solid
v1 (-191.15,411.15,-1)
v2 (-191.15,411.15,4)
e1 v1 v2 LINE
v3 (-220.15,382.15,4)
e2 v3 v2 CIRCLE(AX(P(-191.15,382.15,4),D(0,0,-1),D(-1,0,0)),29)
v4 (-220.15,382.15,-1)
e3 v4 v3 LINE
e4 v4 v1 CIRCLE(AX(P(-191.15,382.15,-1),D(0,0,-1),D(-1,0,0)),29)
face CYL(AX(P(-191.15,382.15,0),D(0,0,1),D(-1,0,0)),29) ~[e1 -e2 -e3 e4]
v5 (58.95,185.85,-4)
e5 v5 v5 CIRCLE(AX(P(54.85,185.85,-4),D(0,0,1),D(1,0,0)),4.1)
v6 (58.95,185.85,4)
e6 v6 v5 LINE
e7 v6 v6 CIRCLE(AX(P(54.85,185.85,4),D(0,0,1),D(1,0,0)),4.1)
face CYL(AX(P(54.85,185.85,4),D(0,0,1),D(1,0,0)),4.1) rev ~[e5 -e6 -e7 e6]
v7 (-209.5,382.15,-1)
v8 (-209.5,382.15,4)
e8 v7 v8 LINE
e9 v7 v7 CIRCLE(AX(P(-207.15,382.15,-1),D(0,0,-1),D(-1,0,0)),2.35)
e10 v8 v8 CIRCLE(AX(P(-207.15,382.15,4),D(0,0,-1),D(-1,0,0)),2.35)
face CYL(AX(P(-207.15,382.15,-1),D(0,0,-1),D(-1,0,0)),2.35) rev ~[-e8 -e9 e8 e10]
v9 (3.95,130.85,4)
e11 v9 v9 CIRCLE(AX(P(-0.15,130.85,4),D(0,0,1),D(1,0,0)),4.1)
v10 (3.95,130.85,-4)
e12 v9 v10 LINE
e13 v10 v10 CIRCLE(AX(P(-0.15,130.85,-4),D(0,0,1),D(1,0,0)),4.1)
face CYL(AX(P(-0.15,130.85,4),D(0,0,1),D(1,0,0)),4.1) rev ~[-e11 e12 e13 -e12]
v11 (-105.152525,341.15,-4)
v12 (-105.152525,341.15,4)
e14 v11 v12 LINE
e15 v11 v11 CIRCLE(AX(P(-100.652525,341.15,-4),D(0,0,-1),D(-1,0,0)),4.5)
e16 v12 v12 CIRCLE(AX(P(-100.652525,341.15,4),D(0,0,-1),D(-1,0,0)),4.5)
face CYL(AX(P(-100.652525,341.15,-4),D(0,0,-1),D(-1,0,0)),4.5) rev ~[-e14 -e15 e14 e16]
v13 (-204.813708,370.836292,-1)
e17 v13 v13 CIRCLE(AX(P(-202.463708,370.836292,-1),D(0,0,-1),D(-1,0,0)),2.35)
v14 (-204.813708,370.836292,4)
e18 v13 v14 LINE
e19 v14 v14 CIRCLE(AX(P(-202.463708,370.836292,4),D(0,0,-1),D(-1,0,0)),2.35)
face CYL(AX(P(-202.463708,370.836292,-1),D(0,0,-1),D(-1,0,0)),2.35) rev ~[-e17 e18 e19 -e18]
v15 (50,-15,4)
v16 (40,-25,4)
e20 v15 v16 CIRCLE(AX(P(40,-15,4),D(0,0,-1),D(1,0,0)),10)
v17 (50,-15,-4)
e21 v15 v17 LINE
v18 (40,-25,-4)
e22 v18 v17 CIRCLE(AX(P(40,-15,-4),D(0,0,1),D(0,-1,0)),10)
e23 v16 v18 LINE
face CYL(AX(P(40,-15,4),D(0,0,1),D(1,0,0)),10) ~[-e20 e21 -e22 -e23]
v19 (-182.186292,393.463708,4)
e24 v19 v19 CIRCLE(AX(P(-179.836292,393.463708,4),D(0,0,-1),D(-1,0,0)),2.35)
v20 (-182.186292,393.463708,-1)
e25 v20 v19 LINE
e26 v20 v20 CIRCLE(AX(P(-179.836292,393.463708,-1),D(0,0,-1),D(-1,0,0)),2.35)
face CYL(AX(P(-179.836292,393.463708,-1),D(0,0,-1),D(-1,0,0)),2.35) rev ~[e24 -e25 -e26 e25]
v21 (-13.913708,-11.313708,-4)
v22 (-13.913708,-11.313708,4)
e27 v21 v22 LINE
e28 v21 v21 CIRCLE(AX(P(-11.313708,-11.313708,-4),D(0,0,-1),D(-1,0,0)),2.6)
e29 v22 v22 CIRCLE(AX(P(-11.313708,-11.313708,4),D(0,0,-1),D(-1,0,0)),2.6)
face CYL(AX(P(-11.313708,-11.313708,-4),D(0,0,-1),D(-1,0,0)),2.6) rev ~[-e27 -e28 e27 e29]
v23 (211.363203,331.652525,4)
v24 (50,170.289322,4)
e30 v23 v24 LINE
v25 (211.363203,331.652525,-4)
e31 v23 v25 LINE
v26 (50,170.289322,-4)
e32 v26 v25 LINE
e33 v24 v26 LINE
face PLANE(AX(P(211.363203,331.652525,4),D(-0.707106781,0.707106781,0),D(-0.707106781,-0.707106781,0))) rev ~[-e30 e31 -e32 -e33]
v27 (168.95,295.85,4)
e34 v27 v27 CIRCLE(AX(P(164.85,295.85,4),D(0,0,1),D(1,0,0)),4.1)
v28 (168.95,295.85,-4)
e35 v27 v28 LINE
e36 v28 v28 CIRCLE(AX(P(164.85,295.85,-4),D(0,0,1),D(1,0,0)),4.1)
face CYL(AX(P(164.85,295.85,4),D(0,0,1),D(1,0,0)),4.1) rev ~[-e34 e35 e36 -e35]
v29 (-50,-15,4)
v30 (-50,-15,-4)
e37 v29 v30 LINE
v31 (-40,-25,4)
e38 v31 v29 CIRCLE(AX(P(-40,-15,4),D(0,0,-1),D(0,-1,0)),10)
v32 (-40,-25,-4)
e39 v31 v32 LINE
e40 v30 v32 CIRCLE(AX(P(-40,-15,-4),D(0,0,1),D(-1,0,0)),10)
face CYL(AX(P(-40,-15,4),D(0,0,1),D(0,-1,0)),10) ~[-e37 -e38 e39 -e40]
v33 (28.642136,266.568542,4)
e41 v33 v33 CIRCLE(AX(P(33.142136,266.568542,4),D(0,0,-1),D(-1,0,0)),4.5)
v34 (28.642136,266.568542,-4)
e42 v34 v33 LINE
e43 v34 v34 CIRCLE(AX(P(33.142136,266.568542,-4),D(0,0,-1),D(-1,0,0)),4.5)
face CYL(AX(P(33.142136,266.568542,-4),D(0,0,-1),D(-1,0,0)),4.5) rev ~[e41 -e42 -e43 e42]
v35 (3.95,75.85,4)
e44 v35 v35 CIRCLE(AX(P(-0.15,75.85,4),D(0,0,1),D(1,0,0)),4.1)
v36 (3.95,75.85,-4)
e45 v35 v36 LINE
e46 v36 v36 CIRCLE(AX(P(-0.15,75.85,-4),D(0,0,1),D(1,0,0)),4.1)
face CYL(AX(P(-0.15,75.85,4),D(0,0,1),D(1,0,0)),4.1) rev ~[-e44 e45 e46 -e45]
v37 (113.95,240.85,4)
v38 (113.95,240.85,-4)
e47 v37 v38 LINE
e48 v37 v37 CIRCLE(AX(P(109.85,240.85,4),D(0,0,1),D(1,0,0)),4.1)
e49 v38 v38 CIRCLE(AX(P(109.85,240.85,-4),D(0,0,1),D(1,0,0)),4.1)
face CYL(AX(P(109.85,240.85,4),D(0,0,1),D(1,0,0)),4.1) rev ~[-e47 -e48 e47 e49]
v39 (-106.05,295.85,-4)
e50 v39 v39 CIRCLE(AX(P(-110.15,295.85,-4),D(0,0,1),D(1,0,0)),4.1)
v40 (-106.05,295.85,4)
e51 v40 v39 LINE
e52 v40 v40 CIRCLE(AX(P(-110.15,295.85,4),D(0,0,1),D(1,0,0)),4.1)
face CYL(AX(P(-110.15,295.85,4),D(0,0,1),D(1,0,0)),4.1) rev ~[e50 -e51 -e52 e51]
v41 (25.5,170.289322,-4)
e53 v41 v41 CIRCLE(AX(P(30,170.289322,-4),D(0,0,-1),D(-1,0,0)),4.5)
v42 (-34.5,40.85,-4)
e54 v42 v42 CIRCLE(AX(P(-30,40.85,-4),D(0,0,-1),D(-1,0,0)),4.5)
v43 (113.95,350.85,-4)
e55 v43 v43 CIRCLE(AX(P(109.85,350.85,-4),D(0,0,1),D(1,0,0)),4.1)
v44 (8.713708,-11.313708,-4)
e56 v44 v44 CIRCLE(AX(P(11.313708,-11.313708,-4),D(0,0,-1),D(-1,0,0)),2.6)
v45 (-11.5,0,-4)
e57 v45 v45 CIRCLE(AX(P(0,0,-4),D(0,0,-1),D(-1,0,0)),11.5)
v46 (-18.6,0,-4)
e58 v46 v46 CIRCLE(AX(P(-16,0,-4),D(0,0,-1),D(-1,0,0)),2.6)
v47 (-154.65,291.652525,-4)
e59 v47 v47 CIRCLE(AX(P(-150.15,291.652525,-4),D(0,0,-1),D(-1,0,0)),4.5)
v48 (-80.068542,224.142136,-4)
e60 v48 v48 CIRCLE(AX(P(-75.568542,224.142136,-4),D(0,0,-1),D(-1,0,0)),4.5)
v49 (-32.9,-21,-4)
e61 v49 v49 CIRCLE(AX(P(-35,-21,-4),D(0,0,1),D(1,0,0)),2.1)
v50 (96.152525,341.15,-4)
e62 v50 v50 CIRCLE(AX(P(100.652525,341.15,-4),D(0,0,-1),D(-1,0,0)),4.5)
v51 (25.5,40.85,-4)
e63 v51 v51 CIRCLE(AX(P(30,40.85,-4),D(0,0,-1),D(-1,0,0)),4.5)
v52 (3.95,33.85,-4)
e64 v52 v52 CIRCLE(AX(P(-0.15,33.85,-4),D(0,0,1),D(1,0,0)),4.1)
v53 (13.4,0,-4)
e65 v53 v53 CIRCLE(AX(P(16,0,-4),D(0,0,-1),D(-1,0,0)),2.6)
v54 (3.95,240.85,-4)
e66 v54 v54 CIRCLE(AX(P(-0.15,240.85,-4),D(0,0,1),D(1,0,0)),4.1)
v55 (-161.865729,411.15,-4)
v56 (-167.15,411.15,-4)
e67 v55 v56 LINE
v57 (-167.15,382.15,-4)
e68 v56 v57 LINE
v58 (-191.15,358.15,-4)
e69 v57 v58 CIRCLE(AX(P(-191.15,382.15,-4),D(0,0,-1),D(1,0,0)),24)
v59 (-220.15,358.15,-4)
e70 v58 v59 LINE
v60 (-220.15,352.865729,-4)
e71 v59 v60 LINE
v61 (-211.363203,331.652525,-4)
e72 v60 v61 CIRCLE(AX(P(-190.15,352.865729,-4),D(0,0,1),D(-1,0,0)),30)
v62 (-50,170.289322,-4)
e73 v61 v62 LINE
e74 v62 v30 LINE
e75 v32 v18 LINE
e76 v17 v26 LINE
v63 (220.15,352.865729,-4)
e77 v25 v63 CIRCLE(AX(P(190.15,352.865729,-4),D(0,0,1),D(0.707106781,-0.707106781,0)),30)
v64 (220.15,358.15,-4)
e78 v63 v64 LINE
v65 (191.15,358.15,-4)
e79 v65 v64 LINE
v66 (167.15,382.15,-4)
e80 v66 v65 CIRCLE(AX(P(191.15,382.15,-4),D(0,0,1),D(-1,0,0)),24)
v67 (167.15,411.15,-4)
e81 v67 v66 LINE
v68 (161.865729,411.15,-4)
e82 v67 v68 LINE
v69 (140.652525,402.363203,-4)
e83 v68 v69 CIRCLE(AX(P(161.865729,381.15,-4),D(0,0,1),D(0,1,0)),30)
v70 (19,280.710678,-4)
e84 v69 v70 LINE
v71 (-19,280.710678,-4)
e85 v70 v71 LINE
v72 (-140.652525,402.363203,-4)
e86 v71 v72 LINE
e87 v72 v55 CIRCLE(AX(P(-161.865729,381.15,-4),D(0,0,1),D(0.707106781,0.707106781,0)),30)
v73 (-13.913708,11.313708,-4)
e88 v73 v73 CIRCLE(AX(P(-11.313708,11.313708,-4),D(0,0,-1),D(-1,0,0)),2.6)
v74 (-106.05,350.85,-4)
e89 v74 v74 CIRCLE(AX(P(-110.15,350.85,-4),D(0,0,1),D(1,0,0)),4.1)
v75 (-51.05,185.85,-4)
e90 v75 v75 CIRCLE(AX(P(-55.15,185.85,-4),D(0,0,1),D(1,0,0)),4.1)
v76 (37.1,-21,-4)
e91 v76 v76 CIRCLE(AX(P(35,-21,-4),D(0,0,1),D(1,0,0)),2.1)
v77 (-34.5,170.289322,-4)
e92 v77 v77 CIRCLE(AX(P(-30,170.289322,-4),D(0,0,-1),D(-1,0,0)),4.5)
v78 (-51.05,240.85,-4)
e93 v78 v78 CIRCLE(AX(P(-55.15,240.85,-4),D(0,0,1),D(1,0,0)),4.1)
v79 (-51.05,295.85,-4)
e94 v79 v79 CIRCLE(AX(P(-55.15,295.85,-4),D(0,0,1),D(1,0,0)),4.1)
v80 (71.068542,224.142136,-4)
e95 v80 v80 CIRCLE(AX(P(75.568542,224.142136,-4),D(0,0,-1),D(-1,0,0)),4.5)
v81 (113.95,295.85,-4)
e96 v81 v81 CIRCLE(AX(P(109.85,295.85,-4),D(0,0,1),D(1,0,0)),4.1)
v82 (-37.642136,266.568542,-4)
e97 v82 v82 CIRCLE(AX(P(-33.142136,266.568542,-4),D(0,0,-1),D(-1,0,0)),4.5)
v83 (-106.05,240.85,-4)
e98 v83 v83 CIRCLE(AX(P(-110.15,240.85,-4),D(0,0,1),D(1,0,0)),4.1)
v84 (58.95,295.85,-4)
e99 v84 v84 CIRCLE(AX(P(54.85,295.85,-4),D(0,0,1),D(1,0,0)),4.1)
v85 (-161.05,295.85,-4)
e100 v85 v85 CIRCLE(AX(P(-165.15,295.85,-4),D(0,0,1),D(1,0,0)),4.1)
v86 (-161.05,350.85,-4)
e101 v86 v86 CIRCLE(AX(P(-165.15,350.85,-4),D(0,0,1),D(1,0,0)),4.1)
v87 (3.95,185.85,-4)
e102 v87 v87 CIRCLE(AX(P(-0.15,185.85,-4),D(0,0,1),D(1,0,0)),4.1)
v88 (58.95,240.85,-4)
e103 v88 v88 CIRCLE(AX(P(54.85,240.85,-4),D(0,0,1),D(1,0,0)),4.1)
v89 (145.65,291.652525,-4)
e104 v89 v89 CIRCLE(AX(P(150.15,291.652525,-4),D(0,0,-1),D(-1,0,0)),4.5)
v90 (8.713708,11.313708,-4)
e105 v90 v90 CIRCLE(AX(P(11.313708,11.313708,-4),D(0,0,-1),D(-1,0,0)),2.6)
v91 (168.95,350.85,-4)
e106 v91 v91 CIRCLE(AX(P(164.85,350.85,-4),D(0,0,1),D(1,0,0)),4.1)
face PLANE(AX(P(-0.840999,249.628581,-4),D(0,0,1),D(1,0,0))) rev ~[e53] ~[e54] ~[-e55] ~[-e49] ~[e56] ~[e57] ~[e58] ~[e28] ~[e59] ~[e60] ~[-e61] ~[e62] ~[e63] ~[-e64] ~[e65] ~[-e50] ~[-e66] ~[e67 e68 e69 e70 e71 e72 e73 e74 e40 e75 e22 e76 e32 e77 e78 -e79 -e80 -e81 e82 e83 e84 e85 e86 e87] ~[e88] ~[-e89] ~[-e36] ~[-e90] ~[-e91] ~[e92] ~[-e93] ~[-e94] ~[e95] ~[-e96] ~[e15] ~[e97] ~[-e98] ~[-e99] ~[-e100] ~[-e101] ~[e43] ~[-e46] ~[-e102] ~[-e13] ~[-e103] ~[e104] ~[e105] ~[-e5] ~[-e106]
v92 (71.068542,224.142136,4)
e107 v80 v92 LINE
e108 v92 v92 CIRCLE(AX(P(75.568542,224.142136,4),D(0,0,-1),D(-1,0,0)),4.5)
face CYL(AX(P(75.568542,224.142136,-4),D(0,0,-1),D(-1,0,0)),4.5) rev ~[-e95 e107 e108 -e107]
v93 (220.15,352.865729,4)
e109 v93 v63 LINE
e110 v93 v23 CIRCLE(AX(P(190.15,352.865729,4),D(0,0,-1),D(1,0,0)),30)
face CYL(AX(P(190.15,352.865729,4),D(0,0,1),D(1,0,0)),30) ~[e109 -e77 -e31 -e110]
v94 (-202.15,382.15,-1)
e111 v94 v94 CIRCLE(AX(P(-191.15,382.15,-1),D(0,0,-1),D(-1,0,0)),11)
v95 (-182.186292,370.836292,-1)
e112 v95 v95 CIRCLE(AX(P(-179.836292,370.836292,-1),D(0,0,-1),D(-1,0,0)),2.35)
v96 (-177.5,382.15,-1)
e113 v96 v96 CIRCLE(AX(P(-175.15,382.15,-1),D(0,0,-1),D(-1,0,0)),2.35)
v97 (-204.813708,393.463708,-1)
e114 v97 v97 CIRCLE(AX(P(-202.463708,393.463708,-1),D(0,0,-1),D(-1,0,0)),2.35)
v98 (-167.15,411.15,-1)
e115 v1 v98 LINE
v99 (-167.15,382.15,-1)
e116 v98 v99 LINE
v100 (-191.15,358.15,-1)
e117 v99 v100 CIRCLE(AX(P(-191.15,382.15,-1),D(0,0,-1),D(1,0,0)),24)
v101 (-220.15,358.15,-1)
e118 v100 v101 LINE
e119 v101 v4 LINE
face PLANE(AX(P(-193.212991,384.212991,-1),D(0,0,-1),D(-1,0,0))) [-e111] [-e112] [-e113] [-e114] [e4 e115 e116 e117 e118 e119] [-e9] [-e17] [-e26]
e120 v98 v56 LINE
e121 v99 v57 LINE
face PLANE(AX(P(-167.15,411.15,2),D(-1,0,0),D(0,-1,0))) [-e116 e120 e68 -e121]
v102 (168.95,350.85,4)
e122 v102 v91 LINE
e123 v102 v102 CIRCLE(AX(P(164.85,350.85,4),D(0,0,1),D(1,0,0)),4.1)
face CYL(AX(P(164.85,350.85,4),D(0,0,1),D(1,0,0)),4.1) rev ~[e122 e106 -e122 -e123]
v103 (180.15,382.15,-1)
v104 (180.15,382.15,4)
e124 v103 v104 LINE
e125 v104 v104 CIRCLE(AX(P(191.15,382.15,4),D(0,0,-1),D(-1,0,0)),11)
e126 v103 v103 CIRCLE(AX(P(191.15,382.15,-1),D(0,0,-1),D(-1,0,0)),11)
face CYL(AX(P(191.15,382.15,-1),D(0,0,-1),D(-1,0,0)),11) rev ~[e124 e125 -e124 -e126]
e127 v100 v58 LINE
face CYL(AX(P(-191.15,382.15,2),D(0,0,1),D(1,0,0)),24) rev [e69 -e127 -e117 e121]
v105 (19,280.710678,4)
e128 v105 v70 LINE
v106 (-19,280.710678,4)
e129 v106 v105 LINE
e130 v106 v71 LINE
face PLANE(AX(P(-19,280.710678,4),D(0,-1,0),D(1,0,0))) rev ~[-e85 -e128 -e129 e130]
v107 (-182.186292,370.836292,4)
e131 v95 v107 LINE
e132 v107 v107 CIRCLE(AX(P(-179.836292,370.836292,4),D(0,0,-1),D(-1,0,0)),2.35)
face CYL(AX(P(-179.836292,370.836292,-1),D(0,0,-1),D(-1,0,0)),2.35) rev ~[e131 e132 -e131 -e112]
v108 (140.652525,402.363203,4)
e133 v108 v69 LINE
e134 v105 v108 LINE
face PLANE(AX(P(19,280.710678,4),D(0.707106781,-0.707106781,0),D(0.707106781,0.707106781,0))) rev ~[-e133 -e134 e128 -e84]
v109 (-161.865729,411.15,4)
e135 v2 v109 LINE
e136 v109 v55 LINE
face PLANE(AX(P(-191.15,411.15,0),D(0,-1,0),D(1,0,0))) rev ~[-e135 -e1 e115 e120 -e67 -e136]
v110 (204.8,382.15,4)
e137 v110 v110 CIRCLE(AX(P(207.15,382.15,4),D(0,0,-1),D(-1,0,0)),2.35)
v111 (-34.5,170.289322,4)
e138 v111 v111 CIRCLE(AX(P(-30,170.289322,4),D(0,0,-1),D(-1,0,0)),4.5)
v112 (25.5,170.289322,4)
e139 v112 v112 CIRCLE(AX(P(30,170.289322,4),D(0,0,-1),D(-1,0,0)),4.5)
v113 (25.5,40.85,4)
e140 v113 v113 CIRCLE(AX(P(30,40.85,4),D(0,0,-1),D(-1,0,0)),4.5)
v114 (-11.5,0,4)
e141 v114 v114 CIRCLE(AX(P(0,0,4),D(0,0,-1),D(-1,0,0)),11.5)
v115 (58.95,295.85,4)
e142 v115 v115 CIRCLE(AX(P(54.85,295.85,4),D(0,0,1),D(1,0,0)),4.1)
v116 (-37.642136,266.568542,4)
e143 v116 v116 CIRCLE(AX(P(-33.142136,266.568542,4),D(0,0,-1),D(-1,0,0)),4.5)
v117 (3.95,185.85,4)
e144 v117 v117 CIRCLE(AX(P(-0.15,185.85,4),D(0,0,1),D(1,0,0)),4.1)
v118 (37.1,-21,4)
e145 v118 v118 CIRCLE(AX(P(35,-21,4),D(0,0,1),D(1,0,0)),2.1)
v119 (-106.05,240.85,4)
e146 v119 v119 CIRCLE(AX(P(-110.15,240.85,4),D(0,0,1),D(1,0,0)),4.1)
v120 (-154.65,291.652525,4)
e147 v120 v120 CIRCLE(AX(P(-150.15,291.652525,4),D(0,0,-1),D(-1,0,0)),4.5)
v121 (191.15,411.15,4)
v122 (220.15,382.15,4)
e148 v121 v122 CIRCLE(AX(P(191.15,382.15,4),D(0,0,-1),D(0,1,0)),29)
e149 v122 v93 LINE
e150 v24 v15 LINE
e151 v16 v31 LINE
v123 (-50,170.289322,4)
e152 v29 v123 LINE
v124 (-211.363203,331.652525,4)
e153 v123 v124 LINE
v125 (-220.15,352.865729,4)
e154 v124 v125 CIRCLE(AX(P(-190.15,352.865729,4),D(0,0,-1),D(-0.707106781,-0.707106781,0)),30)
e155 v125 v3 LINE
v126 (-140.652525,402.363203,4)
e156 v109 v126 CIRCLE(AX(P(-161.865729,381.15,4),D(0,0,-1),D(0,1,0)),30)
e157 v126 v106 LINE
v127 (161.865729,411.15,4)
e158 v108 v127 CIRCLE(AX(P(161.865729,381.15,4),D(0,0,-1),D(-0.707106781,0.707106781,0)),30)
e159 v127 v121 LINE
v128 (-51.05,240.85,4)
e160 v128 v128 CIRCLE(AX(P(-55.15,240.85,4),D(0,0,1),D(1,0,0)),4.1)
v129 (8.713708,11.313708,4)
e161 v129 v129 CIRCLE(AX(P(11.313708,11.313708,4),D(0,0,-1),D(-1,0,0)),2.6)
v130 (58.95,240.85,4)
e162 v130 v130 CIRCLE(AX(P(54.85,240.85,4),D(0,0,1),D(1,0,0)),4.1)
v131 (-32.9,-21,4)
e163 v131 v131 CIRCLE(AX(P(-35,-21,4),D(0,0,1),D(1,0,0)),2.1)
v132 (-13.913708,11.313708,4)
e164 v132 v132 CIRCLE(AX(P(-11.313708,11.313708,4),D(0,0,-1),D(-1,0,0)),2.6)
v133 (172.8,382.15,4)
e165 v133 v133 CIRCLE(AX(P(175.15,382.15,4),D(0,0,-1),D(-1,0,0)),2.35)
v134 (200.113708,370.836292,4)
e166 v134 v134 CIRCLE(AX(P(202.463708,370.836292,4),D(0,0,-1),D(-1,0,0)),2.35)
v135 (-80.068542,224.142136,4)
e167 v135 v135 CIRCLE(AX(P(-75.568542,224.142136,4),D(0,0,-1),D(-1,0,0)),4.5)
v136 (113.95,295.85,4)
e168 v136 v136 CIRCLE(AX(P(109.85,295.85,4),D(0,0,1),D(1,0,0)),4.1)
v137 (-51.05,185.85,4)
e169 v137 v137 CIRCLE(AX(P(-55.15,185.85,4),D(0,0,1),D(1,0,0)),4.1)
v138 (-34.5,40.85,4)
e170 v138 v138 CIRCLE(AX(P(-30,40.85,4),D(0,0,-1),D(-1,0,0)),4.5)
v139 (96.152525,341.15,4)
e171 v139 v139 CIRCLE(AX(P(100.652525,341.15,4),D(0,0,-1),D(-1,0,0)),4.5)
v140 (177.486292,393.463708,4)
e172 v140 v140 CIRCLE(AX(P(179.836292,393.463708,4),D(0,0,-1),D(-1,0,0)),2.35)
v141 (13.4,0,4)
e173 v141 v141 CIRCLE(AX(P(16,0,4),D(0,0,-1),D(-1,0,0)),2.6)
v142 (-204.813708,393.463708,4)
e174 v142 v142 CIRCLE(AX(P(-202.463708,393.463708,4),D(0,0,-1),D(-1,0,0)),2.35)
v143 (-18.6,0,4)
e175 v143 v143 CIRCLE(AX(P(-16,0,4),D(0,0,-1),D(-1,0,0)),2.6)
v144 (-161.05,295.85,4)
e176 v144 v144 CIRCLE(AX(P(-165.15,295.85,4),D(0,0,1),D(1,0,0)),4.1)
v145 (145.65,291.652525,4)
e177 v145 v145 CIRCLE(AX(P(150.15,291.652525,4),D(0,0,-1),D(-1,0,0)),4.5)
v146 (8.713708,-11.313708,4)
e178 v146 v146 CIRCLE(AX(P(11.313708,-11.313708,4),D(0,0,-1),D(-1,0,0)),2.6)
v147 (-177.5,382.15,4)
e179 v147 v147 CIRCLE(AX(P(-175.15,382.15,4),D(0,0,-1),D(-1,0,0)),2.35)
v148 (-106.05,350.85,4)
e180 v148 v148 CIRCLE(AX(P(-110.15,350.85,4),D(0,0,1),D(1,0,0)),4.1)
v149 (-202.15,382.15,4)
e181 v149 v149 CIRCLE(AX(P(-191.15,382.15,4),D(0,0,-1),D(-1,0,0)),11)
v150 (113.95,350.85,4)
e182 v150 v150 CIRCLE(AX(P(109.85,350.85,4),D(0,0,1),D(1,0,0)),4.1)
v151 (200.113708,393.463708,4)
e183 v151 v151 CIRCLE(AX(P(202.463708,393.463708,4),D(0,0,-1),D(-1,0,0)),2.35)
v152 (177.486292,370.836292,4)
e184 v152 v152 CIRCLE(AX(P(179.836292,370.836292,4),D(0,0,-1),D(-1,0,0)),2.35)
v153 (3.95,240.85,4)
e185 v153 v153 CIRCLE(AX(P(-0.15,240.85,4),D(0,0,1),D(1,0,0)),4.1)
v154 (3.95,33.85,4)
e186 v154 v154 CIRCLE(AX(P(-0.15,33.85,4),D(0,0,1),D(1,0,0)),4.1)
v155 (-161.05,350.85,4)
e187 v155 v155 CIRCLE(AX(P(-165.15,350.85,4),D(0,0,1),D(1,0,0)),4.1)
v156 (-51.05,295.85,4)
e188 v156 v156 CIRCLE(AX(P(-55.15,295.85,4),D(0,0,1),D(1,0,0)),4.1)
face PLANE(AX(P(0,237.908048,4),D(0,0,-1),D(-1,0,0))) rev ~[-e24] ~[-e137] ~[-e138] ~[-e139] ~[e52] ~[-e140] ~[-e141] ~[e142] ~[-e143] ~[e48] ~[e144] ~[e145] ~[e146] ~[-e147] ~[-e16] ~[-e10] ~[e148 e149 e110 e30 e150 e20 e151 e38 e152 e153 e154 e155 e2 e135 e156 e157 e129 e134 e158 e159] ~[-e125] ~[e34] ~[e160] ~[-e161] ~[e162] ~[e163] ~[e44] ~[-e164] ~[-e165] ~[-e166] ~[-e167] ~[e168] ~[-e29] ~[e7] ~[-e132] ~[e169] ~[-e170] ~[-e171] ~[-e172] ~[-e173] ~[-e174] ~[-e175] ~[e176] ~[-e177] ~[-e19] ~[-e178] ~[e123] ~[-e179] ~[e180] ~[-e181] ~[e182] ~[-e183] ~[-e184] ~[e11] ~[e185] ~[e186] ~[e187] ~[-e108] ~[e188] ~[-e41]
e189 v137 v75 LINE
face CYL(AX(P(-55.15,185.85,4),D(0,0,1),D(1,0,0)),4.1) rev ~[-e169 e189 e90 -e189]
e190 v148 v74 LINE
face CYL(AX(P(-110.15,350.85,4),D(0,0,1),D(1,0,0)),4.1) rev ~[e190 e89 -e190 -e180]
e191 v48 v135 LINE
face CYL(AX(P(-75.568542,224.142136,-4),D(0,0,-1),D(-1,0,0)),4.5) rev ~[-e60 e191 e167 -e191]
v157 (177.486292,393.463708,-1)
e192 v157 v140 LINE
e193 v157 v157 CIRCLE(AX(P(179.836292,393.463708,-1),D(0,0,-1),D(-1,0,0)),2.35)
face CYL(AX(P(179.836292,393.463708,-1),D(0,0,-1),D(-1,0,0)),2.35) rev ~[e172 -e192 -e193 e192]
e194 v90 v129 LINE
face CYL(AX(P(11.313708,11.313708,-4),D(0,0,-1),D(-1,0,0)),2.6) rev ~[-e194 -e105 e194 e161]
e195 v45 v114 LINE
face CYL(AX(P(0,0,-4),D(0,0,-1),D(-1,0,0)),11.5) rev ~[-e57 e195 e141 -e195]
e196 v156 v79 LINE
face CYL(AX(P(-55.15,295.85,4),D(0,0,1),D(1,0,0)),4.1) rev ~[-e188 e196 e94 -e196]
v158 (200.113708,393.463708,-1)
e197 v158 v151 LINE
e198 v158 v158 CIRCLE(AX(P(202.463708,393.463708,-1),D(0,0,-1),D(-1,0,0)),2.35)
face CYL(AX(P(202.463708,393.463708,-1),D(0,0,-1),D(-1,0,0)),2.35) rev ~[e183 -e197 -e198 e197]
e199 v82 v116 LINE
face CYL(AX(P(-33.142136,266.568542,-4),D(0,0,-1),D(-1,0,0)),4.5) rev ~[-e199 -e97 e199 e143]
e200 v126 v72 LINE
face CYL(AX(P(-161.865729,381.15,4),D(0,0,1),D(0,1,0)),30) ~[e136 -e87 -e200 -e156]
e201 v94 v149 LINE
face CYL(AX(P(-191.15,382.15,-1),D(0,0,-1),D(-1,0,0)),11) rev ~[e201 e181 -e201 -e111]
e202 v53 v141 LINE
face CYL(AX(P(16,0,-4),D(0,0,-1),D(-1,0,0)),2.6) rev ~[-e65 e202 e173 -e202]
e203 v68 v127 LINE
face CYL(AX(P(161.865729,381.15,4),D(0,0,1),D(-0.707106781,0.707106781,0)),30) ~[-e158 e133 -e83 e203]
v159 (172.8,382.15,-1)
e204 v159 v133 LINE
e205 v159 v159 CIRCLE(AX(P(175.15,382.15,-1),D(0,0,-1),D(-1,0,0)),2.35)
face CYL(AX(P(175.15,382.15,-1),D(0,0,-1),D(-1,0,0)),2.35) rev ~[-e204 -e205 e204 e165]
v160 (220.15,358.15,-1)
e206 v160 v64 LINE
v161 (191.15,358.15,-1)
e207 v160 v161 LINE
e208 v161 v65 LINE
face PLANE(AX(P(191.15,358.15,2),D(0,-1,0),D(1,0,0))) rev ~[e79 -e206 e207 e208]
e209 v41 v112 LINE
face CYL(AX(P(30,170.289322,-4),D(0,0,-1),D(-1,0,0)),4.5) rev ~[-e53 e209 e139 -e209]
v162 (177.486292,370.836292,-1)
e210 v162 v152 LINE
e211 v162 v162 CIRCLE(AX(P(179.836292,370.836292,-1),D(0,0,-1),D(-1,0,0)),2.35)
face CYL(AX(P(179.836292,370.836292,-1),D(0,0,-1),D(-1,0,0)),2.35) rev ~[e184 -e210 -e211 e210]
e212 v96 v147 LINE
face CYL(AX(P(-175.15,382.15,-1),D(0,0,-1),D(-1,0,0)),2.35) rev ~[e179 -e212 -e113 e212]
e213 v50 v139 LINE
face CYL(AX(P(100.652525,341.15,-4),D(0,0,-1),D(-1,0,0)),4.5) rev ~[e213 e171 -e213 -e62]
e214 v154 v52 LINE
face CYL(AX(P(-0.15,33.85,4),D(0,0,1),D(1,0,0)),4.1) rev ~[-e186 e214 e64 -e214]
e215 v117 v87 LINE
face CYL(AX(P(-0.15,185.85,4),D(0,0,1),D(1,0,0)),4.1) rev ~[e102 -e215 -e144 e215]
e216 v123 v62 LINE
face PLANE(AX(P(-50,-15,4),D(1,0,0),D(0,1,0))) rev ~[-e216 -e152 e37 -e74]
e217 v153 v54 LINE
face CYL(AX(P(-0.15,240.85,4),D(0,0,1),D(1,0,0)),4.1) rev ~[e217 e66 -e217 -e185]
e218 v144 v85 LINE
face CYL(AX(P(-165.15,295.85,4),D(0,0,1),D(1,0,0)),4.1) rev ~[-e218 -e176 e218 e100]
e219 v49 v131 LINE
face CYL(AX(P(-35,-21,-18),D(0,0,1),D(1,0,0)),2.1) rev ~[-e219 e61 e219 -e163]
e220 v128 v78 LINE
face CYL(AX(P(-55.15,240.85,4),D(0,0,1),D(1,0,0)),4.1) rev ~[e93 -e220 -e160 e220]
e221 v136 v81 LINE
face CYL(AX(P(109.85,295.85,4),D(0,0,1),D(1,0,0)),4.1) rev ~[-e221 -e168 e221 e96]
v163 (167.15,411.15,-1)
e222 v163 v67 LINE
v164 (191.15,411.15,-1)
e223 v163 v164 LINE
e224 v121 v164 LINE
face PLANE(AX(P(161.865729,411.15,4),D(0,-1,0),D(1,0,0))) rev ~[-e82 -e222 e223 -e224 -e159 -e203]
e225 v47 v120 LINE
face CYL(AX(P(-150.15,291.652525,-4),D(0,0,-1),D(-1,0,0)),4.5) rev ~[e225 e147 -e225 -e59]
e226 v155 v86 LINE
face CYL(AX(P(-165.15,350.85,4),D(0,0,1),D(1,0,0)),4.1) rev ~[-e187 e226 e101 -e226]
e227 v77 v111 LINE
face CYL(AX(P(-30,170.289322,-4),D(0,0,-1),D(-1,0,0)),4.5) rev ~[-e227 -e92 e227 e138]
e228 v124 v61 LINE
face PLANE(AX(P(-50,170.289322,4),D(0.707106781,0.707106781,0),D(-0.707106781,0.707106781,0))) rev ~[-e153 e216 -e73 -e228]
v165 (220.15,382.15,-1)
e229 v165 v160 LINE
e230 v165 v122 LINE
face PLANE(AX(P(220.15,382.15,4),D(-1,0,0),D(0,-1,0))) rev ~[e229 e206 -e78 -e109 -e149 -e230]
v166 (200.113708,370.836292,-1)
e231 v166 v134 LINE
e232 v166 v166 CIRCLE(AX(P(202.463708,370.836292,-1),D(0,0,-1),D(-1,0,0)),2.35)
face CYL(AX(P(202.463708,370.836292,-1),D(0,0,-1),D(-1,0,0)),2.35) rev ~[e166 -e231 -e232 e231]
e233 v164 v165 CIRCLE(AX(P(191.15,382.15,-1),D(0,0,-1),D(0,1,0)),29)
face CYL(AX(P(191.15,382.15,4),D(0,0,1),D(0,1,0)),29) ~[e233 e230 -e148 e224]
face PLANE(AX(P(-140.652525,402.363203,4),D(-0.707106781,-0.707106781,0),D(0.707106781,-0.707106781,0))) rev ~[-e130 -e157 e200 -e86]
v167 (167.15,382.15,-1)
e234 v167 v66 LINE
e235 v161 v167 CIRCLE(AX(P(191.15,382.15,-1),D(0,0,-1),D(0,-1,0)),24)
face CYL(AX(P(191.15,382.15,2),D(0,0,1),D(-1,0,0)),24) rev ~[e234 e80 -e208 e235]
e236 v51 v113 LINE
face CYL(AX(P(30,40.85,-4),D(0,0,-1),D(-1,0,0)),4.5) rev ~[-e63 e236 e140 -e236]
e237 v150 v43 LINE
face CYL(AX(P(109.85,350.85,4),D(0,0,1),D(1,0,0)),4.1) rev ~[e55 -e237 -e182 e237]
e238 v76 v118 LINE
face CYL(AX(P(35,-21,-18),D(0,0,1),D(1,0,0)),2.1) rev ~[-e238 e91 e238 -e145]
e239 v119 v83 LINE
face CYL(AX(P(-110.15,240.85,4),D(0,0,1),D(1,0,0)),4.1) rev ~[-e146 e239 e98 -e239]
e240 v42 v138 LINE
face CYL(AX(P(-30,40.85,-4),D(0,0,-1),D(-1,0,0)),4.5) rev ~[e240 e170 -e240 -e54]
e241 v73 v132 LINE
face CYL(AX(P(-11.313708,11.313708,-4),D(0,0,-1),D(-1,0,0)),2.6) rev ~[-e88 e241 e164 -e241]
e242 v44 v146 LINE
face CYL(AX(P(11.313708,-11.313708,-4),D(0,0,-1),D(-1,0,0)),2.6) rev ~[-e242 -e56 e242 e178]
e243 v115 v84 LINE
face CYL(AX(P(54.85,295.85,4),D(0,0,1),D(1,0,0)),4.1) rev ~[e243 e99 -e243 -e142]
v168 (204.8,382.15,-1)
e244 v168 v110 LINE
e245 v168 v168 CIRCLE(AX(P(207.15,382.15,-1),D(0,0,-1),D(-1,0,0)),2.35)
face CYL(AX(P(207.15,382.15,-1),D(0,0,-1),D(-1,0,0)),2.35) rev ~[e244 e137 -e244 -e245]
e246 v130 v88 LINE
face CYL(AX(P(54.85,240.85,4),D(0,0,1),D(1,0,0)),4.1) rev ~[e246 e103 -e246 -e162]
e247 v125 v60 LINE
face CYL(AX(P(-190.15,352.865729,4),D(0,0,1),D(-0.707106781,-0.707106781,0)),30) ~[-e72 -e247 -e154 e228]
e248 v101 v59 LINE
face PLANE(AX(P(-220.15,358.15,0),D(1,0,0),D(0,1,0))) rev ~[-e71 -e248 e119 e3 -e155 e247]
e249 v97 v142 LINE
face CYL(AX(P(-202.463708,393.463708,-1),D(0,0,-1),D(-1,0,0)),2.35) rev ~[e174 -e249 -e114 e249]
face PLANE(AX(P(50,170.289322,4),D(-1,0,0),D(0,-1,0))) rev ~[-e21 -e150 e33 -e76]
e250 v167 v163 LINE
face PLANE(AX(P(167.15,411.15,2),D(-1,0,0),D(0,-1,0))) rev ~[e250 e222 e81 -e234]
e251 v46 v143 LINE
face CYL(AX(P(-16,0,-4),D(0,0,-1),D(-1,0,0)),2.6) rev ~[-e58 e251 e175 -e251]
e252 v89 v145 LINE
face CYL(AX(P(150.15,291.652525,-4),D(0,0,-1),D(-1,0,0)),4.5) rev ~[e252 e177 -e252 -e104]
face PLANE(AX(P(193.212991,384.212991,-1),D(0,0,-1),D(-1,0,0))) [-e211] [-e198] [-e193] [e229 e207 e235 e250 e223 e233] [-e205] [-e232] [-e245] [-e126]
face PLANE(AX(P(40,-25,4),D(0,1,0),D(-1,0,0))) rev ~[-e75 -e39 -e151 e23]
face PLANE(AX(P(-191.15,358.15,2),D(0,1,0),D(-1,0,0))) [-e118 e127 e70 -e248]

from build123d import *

# Parameters (mm, degrees)
ESQUISSE1_R               = 29
BOSS_EXTRU_1_DEPTH        = 4
ENL_V_START               = -6
ENL_V_MAT_EXTRU_1_DEPTH   = 6
BOSS_EXTRU_3_START        = 4
BOSS_EXTRU_3_DEPTH        = 4
ESQUISSE8_R               = 11
ENL_V_MAT_EXTRU_2_DEPTH   = 12
ESQUISSE10_R              = 2.5
ENL_V_MAT_EXTRU_4_DEPTH   = 12
ESQUISSE11_R              = 4.5
ENL_V_MAT_EXTRU_5_DEPTH   = 14
TROU_TARAUD_M5X0_81_D     = 4.2
TROU_TARAUD_M5X0_81_DEPTH = 14
TROU_TARAUD_M5X0_81_TIP   = 1.2618073
ESQUISSE14_R              = 2.5
ESQUISSE14_R_2            = 11
BOSS_EXTRU_4_DEPTH        = 4
BOSS_EXTRU_5_DEPTH        = 1
ESQUISSE17_R              = 2.6
ESQUISSE17_R_2            = 2.5
ESQUISSE17_R_3            = 11.5
ESQUISSE17_R_4            = 11
ENL_V_MAT_EXTRU_7_DEPTH   = 10
ESQUISSE18_R              = 11
ESQUISSE18_R_2            = 2.35
ENL_V_MAT_EXTRU_8_DEPTH   = 10
ESQUISSE19_R              = 4.1
ENL_V_MAT_EXTRU_9_DEPTH   = 8


with BuildPart() as part:
    # Esquisse1 → Boss.-Extru.1 (new body)
    with BuildSketch(Plane.XY):
        with BuildLine():
            Line((-40, -25), (40, -25))
            ThreePointArc((40, -25), (47.071067812, -22.071067812), (50, -15))
            Line((50, -15), (50, 170.289321881))
            Line((50, 170.289321881), (211.363203436, 331.652525317))
            ThreePointArc((211.363203436, 331.652525317), (217.866385975, 341.385225782), (220.15, 352.865728753))
            Line((220.15, 352.865728753), (220.15, 382.15))
            ThreePointArc((220.15, 382.15), (170.643903346, 361.643903346), (191.15, 411.15))
            Line((191.15, 411.15), (161.865728753, 411.15))
            ThreePointArc((161.865728753, 411.15), (150.385225782, 408.866385975), (140.652525317, 402.363203436))
            Line((140.652525317, 402.363203436), (19, 280.710678119))
            Line((19, 280.710678119), (-19, 280.710678119))
            Line((-19, 280.710678119), (-140.652525317, 402.363203436))
            ThreePointArc((-140.652525317, 402.363203436), (-150.385225782, 408.866385975), (-161.865728753, 411.15))
            Line((-161.865728753, 411.15), (-191.15, 411.15))
            ThreePointArc((-191.15, 411.15), (-170.643903346, 402.656096654), (-162.15, 382.15))
            ThreePointArc((-162.15, 382.15), (-191.15, 353.15), (-220.15, 382.15))
            Line((-220.15, 382.15), (-220.15, 352.865728753))
            ThreePointArc((-220.15, 352.865728753), (-217.866385975, 341.385225782), (-211.363203436, 331.652525317))
            Line((-211.363203436, 331.652525317), (-50, 170.289321881))
            Line((-50, 170.289321881), (-50, -15))
            ThreePointArc((-50, -15), (-47.071067812, -22.071067812), (-40, -25))
        make_face()
        with Locations((191.15, 382.15)):
            Circle(ESQUISSE1_R)
        with Locations((-191.15, 382.15)):
            Circle(ESQUISSE1_R)
    extrude(amount=-BOSS_EXTRU_1_DEPTH)

    # Esquisse4 → Enlèv. mat.-Extru.1 (cut)
    with BuildSketch(Plane(origin=(0, 0, -4), x_dir=(-1, 0, 0), z_dir=(0, 0, -1)).offset(ENL_V_START)):
        with BuildLine():
            Line((-14.875216904, -15), (14.875216904, -15))
            ThreePointArc((14.875216904, -15), (14.990842441, -14.97682257), (15.088601959, -14.910871568))
            ThreePointArc((15.088601959, -14.910871568), (21.213203436, 0), (15.088601959, 14.910871568))
            ThreePointArc((15.088601959, 14.910871568), (14.990842441, 14.97682257), (14.875216904, 15))
            Line((14.875216904, 15), (-14.875216904, 15))
            ThreePointArc((-14.875216904, 15), (-14.990842441, 14.97682257), (-15.088601959, 14.910871568))
            ThreePointArc((-15.088601959, 14.910871568), (-21.213203436, 0), (-15.088601959, -14.910871568))
            ThreePointArc((-15.088601959, -14.910871568), (-14.990842441, -14.97682257), (-14.875216904, -15))
        make_face()
        with BuildLine():
            Line((-191.15, 358.15), (-220.15, 358.15))
            Line((-220.15, 358.15), (-220.15, 382.15))
            ThreePointArc((-220.15, 382.15), (-211.656096654, 402.656096654), (-191.15, 411.15))
            Line((-191.15, 411.15), (-167.15, 411.15))
            Line((-167.15, 411.15), (-167.15, 382.15))
            ThreePointArc((-167.15, 382.15), (-174.179437252, 365.179437252), (-191.15, 358.15))
        make_face()
        with BuildLine():
            Line((191.15, 358.15), (220.15, 358.15))
            Line((220.15, 358.15), (220.15, 382.15))
            ThreePointArc((220.15, 382.15), (211.656096654, 402.656096654), (191.15, 411.15))
            Line((191.15, 411.15), (167.15, 411.15))
            Line((167.15, 411.15), (167.15, 382.15))
            ThreePointArc((167.15, 382.15), (174.179437252, 365.179437252), (191.15, 358.15))
        make_face()
    extrude(amount=ENL_V_MAT_EXTRU_1_DEPTH, mode=Mode.SUBTRACT)

    # Esquisse7 → Boss.-Extru.3 (add)
    with BuildSketch(Plane.XY.offset(BOSS_EXTRU_3_START)):
        with BuildLine():
            Line((220.15, 382.15), (220.15, 352.865728753))
            ThreePointArc((220.15, 352.865728753), (217.866385975, 341.385225782), (211.363203436, 331.652525317))
            Line((211.363203436, 331.652525317), (50, 170.289321881))
            Line((50, 170.289321881), (50, -15))
            ThreePointArc((50, -15), (47.071067812, -22.071067812), (40, -25))
            Line((40, -25), (-40, -25))
            ThreePointArc((-40, -25), (-47.071067812, -22.071067812), (-50, -15))
            Line((-50, -15), (-50, 170.289321881))
            Line((-50, 170.289321881), (-211.363203436, 331.652525317))
            ThreePointArc((-211.363203436, 331.652525317), (-217.866385975, 341.385225782), (-220.15, 352.865728753))
            Line((-220.15, 352.865728753), (-220.15, 382.15))
            ThreePointArc((-220.15, 382.15), (-211.656096654, 402.656096654), (-191.15, 411.15))
            Line((-191.15, 411.15), (-161.865728753, 411.15))
            ThreePointArc((-161.865728753, 411.15), (-150.385225782, 408.866385975), (-140.652525317, 402.363203436))
            Line((-140.652525317, 402.363203436), (-19, 280.710678119))
            Line((-19, 280.710678119), (19, 280.710678119))
            Line((19, 280.710678119), (140.652525317, 402.363203436))
            ThreePointArc((140.652525317, 402.363203436), (150.385225782, 408.866385975), (161.865728753, 411.15))
            Line((161.865728753, 411.15), (191.15, 411.15))
            ThreePointArc((191.15, 411.15), (211.656096654, 402.656096654), (220.15, 382.15))
        make_face()
    extrude(amount=-BOSS_EXTRU_3_DEPTH)

    # Esquisse8 → Enlèv. mat.-Extru.2 (cut)
    with BuildSketch(Plane(origin=(0, 0, -4), x_dir=(-1, 0, 0), z_dir=(0, 0, -1))):
        with Locations(Location((0, 0, 0), (0, 0, 180))):
            Circle(ESQUISSE8_R)
    extrude(amount=-ENL_V_MAT_EXTRU_2_DEPTH, mode=Mode.SUBTRACT)

    # Esquisse10 → Enlèv. mat.-Extru.4 (cut)
    with BuildSketch(Plane(origin=(0, 0, -4), x_dir=(-1, 0, 0), z_dir=(0, 0, -1))):
        with Locations(Location((-11.313708499, -11.313708499, 0), (0, 0, 180))):
            Circle(ESQUISSE10_R)
        with Locations(Location((16, 0, 0), (0, 0, 180))):
            Circle(ESQUISSE10_R)
        with Locations(Location((11.313708499, 11.313708499, 0), (0, 0, 180))):
            Circle(ESQUISSE10_R)
        with Locations(Location((-16, 0, 0), (0, 0, 180))):
            Circle(ESQUISSE10_R)
        with Locations(Location((11.313708499, -11.313708499, 0), (0, 0, 180))):
            Circle(ESQUISSE10_R)
        with Locations(Location((-11.313708499, 11.313708499, 0), (0, 0, 180))):
            Circle(ESQUISSE10_R)
    extrude(amount=-ENL_V_MAT_EXTRU_4_DEPTH, mode=Mode.SUBTRACT)

    # Esquisse11 → Enlèv. mat.-Extru.5 (cut)
    with BuildSketch(Plane(origin=(0, 0, -4), x_dir=(-1, 0, 0), z_dir=(0, 0, -1))):
        with Locations((100.652525317, 341.15)):
            Circle(ESQUISSE11_R)
        with Locations((150.15, 291.652525317)):
            Circle(ESQUISSE11_R)
        with Locations((30, 40.849999998)):
            Circle(ESQUISSE11_R)
        with Locations((-30, 40.849999998)):
            Circle(ESQUISSE11_R)
        with Locations((75.568542495, 224.142135624)):
            Circle(ESQUISSE11_R)
        with Locations((30, 170.289321881)):
            Circle(ESQUISSE11_R)
        with Locations((-30, 170.289321881)):
            Circle(ESQUISSE11_R)
        with Locations((-75.568542495, 224.142135624)):
            Circle(ESQUISSE11_R)
        with Locations((-33.142135624, 266.568542495)):
            Circle(ESQUISSE11_R)
        with Locations((33.142135624, 266.568542495)):
            Circle(ESQUISSE11_R)
        with Locations((-150.15, 291.652525317)):
            Circle(ESQUISSE11_R)
        with Locations((-100.652525317, 341.15)):
            Circle(ESQUISSE11_R)
    extrude(amount=-ENL_V_MAT_EXTRU_5_DEPTH, mode=Mode.SUBTRACT)

    # Trou taraudé M5x0.81
    with Locations(Plane(origin=(0, 0, -4), x_dir=(-1, 0, 0), z_dir=(0, 0, -1))):
        with Locations((35, -21), (-35, -21)):
            Hole(TROU_TARAUD_M5X0_81_D / 2, depth=TROU_TARAUD_M5X0_81_DEPTH)
            with Locations((0, 0, -(TROU_TARAUD_M5X0_81_DEPTH + TROU_TARAUD_M5X0_81_TIP / 2))):  # 118° drill point
                Cone(0, TROU_TARAUD_M5X0_81_D / 2, TROU_TARAUD_M5X0_81_TIP, mode=Mode.SUBTRACT)

    # Esquisse14 → Boss.-Extru.4 (add)
    with BuildSketch(Plane(origin=(0, 0, 0), x_dir=(-1, 0, 0), z_dir=(0, 0, -1))):
        with BuildLine():
            Line((-14.875216904, -15), (14.875216904, -15))
            ThreePointArc((14.875216904, -15), (14.990842441, -14.97682257), (15.088601959, -14.910871568))
            ThreePointArc((15.088601959, -14.910871568), (21.213203436, 0), (15.088601959, 14.910871568))
            ThreePointArc((15.088601959, 14.910871568), (14.990842441, 14.97682257), (14.875216904, 15))
            Line((14.875216904, 15), (-14.875216904, 15))
            ThreePointArc((-14.875216904, 15), (-14.990842441, 14.97682257), (-15.088601959, 14.910871568))
            ThreePointArc((-15.088601959, 14.910871568), (-21.213203436, 0), (-15.088601959, -14.910871568))
            ThreePointArc((-15.088601959, -14.910871568), (-14.990842441, -14.97682257), (-14.875216904, -15))
        make_face()
        with Locations(Location((11.313708499, -11.313708499, 0), (0, 0, 180))):
            Circle(ESQUISSE14_R, mode=Mode.SUBTRACT)
        with Locations(Location((-11.313708499, -11.313708499, 0), (0, 0, 180))):
            Circle(ESQUISSE14_R, mode=Mode.SUBTRACT)
        with Locations(Location((-16, 0, 0), (0, 0, 180))):
            Circle(ESQUISSE14_R, mode=Mode.SUBTRACT)
        with Locations(Location((-11.313708499, 11.313708499, 0), (0, 0, 180))):
            Circle(ESQUISSE14_R, mode=Mode.SUBTRACT)
        with Locations(Location((11.313708499, 11.313708499, 0), (0, 0, 180))):
            Circle(ESQUISSE14_R, mode=Mode.SUBTRACT)
        with Locations(Location((16, 0, 0), (0, 0, 180))):
            Circle(ESQUISSE14_R, mode=Mode.SUBTRACT)
        with Locations(Location((0, 0, 0), (0, 0, 180))):
            Circle(ESQUISSE14_R_2, mode=Mode.SUBTRACT)
    extrude(amount=BOSS_EXTRU_4_DEPTH)

    # Esquisse15 → Boss.-Extru.5 (add)
    with BuildSketch(Plane(origin=(0, 0, 0), x_dir=(-1, 0, 0), z_dir=(0, 0, -1))):
        with BuildLine():
            Line((191.15, 411.15), (167.15, 411.15))
            Line((167.15, 411.15), (167.15, 382.15))
            ThreePointArc((167.15, 382.15), (174.179437252, 365.179437252), (191.15, 358.15))
            Line((191.15, 358.15), (220.15, 358.15))
            Line((220.15, 358.15), (220.15, 382.15))
            ThreePointArc((220.15, 382.15), (211.656096654, 402.656096654), (191.15, 411.15))
        make_face()
        with BuildLine():
            Line((-220.15, 382.15), (-220.15, 358.15))
            Line((-220.15, 358.15), (-191.15, 358.15))
            ThreePointArc((-191.15, 358.15), (-174.179437252, 365.179437252), (-167.15, 382.15))
            Line((-167.15, 382.15), (-167.15, 411.15))
            Line((-167.15, 411.15), (-191.15, 411.15))
            ThreePointArc((-191.15, 411.15), (-211.656096654, 402.656096654), (-220.15, 382.15))
        make_face()
    extrude(amount=BOSS_EXTRU_5_DEPTH)

    # Esquisse17 → Enlèv. mat.-Extru.7 (cut)
    # profile 1 of 7: a face of its own
    with BuildSketch(Plane(origin=(0, 0, -4), x_dir=(-1, 0, 0), z_dir=(0, 0, -1))):
        with Locations((-11.313708499, 11.313708499)):
            Circle(ESQUISSE17_R)
        with Locations((-11.313708499, 11.313708499)):
            Circle(ESQUISSE17_R_2, mode=Mode.SUBTRACT)
    # profile 2 of 7: a face of its own
    with BuildSketch(Plane(origin=(0, 0, -4), x_dir=(-1, 0, 0), z_dir=(0, 0, -1))):
        with Locations((-16, 0)):
            Circle(ESQUISSE17_R)
        with Locations((-16, 0)):
            Circle(ESQUISSE17_R_2, mode=Mode.SUBTRACT)
    # profile 3 of 7: a face of its own
    with BuildSketch(Plane(origin=(0, 0, -4), x_dir=(-1, 0, 0), z_dir=(0, 0, -1))):
        with Locations((-11.313708499, -11.313708499)):
            Circle(ESQUISSE17_R)
        with Locations((-11.313708499, -11.313708499)):
            Circle(ESQUISSE17_R_2, mode=Mode.SUBTRACT)
    # profile 4 of 7: a face of its own
    with BuildSketch(Plane(origin=(0, 0, -4), x_dir=(-1, 0, 0), z_dir=(0, 0, -1))):
        with Locations((11.313708499, -11.313708499)):
            Circle(ESQUISSE17_R)
        with Locations((11.313708499, -11.313708499)):
            Circle(ESQUISSE17_R_2, mode=Mode.SUBTRACT)
    # profile 5 of 7: a face of its own
    with BuildSketch(Plane(origin=(0, 0, -4), x_dir=(-1, 0, 0), z_dir=(0, 0, -1))):
        with Locations((16, 0)):
            Circle(ESQUISSE17_R)
        with Locations((16, 0)):
            Circle(ESQUISSE17_R_2, mode=Mode.SUBTRACT)
    # profile 6 of 7: a face of its own
    with BuildSketch(Plane(origin=(0, 0, -4), x_dir=(-1, 0, 0), z_dir=(0, 0, -1))):
        with Locations((11.313708499, 11.313708499)):
            Circle(ESQUISSE17_R)
        with Locations((11.313708499, 11.313708499)):
            Circle(ESQUISSE17_R_2, mode=Mode.SUBTRACT)
    # profile 7 of 7: a face of its own
    with BuildSketch(Plane(origin=(0, 0, -4), x_dir=(-1, 0, 0), z_dir=(0, 0, -1))):
        Circle(ESQUISSE17_R_3)
        Circle(ESQUISSE17_R_4, mode=Mode.SUBTRACT)
    extrude(amount=-ENL_V_MAT_EXTRU_7_DEPTH, mode=Mode.SUBTRACT)

    # Esquisse18 → Enlèv. mat.-Extru.8 (cut)
    with BuildSketch(Plane(origin=(0, 0, -1), x_dir=(-1, 0, 0), z_dir=(0, 0, -1))):
        with Locations((-191.15, 382.15)):
            Circle(ESQUISSE18_R)
        with Locations((191.15, 382.15)):
            Circle(ESQUISSE18_R)
        with Locations((179.836291501, 370.836291501)):
            Circle(ESQUISSE18_R_2)
        with Locations((175.15, 382.15)):
            Circle(ESQUISSE18_R_2)
        with Locations((179.836291501, 393.463708499)):
            Circle(ESQUISSE18_R_2)
        with Locations((202.463708499, 393.463708499)):
            Circle(ESQUISSE18_R_2)
        with Locations((207.15, 382.15)):
            Circle(ESQUISSE18_R_2)
        with Locations((202.463708499, 370.836291501)):
            Circle(ESQUISSE18_R_2)
        with Locations((-202.463708499, 393.463708499)):
            Circle(ESQUISSE18_R_2)
        with Locations((-207.15, 382.15)):
            Circle(ESQUISSE18_R_2)
        with Locations((-202.463708499, 370.836291501)):
            Circle(ESQUISSE18_R_2)
        with Locations((-179.836291501, 393.463708499)):
            Circle(ESQUISSE18_R_2)
        with Locations((-175.15, 382.15)):
            Circle(ESQUISSE18_R_2)
        with Locations((-179.836291501, 370.836291501)):
            Circle(ESQUISSE18_R_2)
    extrude(amount=-ENL_V_MAT_EXTRU_8_DEPTH, mode=Mode.SUBTRACT)

    # Esquisse19 → Enlèv. mat.-Extru.9 (cut)
    with BuildSketch(Plane.XY.offset(4)):
        with Locations((-110.15, 350.849999998)):
            Circle(ESQUISSE19_R)
        with Locations((-165.15, 295.849999998)):
            Circle(ESQUISSE19_R)
        with Locations((-55.15, 295.849999998)):
            Circle(ESQUISSE19_R)
        with Locations((-110.15, 295.849999998)):
            Circle(ESQUISSE19_R)
        with Locations((-110.15, 240.849999998)):
            Circle(ESQUISSE19_R)
        with Locations((-55.15, 240.849999998)):
            Circle(ESQUISSE19_R)
        with Locations((-0.15, 240.849999998)):
            Circle(ESQUISSE19_R)
        with Locations((-0.15, 185.849999998)):
            Circle(ESQUISSE19_R)
        with Locations((-55.15, 185.849999998)):
            Circle(ESQUISSE19_R)
        with Locations((54.85, 240.849999998)):
            Circle(ESQUISSE19_R)
        with Locations((109.85, 295.849999998)):
            Circle(ESQUISSE19_R)
        with Locations((54.85, 295.849999998)):
            Circle(ESQUISSE19_R)
        with Locations((109.85, 240.849999998)):
            Circle(ESQUISSE19_R)
        with Locations((164.85, 350.849999998)):
            Circle(ESQUISSE19_R)
        with Locations((109.85, 350.849999998)):
            Circle(ESQUISSE19_R)
        with Locations((164.85, 295.849999998)):
            Circle(ESQUISSE19_R)
        with Locations((-0.15, 130.849999998)):
            Circle(ESQUISSE19_R)
        with Locations((-0.15, 75.849999998)):
            Circle(ESQUISSE19_R)
        with Locations((-0.15, 33.849999998)):
            Circle(ESQUISSE19_R)
        with Locations((54.85, 185.849999998)):
            Circle(ESQUISSE19_R)
        with Locations((-165.15, 350.849999998)):
            Circle(ESQUISSE19_R)
    extrude(amount=-ENL_V_MAT_EXTRU_9_DEPTH, mode=Mode.SUBTRACT)


solid = part.part
